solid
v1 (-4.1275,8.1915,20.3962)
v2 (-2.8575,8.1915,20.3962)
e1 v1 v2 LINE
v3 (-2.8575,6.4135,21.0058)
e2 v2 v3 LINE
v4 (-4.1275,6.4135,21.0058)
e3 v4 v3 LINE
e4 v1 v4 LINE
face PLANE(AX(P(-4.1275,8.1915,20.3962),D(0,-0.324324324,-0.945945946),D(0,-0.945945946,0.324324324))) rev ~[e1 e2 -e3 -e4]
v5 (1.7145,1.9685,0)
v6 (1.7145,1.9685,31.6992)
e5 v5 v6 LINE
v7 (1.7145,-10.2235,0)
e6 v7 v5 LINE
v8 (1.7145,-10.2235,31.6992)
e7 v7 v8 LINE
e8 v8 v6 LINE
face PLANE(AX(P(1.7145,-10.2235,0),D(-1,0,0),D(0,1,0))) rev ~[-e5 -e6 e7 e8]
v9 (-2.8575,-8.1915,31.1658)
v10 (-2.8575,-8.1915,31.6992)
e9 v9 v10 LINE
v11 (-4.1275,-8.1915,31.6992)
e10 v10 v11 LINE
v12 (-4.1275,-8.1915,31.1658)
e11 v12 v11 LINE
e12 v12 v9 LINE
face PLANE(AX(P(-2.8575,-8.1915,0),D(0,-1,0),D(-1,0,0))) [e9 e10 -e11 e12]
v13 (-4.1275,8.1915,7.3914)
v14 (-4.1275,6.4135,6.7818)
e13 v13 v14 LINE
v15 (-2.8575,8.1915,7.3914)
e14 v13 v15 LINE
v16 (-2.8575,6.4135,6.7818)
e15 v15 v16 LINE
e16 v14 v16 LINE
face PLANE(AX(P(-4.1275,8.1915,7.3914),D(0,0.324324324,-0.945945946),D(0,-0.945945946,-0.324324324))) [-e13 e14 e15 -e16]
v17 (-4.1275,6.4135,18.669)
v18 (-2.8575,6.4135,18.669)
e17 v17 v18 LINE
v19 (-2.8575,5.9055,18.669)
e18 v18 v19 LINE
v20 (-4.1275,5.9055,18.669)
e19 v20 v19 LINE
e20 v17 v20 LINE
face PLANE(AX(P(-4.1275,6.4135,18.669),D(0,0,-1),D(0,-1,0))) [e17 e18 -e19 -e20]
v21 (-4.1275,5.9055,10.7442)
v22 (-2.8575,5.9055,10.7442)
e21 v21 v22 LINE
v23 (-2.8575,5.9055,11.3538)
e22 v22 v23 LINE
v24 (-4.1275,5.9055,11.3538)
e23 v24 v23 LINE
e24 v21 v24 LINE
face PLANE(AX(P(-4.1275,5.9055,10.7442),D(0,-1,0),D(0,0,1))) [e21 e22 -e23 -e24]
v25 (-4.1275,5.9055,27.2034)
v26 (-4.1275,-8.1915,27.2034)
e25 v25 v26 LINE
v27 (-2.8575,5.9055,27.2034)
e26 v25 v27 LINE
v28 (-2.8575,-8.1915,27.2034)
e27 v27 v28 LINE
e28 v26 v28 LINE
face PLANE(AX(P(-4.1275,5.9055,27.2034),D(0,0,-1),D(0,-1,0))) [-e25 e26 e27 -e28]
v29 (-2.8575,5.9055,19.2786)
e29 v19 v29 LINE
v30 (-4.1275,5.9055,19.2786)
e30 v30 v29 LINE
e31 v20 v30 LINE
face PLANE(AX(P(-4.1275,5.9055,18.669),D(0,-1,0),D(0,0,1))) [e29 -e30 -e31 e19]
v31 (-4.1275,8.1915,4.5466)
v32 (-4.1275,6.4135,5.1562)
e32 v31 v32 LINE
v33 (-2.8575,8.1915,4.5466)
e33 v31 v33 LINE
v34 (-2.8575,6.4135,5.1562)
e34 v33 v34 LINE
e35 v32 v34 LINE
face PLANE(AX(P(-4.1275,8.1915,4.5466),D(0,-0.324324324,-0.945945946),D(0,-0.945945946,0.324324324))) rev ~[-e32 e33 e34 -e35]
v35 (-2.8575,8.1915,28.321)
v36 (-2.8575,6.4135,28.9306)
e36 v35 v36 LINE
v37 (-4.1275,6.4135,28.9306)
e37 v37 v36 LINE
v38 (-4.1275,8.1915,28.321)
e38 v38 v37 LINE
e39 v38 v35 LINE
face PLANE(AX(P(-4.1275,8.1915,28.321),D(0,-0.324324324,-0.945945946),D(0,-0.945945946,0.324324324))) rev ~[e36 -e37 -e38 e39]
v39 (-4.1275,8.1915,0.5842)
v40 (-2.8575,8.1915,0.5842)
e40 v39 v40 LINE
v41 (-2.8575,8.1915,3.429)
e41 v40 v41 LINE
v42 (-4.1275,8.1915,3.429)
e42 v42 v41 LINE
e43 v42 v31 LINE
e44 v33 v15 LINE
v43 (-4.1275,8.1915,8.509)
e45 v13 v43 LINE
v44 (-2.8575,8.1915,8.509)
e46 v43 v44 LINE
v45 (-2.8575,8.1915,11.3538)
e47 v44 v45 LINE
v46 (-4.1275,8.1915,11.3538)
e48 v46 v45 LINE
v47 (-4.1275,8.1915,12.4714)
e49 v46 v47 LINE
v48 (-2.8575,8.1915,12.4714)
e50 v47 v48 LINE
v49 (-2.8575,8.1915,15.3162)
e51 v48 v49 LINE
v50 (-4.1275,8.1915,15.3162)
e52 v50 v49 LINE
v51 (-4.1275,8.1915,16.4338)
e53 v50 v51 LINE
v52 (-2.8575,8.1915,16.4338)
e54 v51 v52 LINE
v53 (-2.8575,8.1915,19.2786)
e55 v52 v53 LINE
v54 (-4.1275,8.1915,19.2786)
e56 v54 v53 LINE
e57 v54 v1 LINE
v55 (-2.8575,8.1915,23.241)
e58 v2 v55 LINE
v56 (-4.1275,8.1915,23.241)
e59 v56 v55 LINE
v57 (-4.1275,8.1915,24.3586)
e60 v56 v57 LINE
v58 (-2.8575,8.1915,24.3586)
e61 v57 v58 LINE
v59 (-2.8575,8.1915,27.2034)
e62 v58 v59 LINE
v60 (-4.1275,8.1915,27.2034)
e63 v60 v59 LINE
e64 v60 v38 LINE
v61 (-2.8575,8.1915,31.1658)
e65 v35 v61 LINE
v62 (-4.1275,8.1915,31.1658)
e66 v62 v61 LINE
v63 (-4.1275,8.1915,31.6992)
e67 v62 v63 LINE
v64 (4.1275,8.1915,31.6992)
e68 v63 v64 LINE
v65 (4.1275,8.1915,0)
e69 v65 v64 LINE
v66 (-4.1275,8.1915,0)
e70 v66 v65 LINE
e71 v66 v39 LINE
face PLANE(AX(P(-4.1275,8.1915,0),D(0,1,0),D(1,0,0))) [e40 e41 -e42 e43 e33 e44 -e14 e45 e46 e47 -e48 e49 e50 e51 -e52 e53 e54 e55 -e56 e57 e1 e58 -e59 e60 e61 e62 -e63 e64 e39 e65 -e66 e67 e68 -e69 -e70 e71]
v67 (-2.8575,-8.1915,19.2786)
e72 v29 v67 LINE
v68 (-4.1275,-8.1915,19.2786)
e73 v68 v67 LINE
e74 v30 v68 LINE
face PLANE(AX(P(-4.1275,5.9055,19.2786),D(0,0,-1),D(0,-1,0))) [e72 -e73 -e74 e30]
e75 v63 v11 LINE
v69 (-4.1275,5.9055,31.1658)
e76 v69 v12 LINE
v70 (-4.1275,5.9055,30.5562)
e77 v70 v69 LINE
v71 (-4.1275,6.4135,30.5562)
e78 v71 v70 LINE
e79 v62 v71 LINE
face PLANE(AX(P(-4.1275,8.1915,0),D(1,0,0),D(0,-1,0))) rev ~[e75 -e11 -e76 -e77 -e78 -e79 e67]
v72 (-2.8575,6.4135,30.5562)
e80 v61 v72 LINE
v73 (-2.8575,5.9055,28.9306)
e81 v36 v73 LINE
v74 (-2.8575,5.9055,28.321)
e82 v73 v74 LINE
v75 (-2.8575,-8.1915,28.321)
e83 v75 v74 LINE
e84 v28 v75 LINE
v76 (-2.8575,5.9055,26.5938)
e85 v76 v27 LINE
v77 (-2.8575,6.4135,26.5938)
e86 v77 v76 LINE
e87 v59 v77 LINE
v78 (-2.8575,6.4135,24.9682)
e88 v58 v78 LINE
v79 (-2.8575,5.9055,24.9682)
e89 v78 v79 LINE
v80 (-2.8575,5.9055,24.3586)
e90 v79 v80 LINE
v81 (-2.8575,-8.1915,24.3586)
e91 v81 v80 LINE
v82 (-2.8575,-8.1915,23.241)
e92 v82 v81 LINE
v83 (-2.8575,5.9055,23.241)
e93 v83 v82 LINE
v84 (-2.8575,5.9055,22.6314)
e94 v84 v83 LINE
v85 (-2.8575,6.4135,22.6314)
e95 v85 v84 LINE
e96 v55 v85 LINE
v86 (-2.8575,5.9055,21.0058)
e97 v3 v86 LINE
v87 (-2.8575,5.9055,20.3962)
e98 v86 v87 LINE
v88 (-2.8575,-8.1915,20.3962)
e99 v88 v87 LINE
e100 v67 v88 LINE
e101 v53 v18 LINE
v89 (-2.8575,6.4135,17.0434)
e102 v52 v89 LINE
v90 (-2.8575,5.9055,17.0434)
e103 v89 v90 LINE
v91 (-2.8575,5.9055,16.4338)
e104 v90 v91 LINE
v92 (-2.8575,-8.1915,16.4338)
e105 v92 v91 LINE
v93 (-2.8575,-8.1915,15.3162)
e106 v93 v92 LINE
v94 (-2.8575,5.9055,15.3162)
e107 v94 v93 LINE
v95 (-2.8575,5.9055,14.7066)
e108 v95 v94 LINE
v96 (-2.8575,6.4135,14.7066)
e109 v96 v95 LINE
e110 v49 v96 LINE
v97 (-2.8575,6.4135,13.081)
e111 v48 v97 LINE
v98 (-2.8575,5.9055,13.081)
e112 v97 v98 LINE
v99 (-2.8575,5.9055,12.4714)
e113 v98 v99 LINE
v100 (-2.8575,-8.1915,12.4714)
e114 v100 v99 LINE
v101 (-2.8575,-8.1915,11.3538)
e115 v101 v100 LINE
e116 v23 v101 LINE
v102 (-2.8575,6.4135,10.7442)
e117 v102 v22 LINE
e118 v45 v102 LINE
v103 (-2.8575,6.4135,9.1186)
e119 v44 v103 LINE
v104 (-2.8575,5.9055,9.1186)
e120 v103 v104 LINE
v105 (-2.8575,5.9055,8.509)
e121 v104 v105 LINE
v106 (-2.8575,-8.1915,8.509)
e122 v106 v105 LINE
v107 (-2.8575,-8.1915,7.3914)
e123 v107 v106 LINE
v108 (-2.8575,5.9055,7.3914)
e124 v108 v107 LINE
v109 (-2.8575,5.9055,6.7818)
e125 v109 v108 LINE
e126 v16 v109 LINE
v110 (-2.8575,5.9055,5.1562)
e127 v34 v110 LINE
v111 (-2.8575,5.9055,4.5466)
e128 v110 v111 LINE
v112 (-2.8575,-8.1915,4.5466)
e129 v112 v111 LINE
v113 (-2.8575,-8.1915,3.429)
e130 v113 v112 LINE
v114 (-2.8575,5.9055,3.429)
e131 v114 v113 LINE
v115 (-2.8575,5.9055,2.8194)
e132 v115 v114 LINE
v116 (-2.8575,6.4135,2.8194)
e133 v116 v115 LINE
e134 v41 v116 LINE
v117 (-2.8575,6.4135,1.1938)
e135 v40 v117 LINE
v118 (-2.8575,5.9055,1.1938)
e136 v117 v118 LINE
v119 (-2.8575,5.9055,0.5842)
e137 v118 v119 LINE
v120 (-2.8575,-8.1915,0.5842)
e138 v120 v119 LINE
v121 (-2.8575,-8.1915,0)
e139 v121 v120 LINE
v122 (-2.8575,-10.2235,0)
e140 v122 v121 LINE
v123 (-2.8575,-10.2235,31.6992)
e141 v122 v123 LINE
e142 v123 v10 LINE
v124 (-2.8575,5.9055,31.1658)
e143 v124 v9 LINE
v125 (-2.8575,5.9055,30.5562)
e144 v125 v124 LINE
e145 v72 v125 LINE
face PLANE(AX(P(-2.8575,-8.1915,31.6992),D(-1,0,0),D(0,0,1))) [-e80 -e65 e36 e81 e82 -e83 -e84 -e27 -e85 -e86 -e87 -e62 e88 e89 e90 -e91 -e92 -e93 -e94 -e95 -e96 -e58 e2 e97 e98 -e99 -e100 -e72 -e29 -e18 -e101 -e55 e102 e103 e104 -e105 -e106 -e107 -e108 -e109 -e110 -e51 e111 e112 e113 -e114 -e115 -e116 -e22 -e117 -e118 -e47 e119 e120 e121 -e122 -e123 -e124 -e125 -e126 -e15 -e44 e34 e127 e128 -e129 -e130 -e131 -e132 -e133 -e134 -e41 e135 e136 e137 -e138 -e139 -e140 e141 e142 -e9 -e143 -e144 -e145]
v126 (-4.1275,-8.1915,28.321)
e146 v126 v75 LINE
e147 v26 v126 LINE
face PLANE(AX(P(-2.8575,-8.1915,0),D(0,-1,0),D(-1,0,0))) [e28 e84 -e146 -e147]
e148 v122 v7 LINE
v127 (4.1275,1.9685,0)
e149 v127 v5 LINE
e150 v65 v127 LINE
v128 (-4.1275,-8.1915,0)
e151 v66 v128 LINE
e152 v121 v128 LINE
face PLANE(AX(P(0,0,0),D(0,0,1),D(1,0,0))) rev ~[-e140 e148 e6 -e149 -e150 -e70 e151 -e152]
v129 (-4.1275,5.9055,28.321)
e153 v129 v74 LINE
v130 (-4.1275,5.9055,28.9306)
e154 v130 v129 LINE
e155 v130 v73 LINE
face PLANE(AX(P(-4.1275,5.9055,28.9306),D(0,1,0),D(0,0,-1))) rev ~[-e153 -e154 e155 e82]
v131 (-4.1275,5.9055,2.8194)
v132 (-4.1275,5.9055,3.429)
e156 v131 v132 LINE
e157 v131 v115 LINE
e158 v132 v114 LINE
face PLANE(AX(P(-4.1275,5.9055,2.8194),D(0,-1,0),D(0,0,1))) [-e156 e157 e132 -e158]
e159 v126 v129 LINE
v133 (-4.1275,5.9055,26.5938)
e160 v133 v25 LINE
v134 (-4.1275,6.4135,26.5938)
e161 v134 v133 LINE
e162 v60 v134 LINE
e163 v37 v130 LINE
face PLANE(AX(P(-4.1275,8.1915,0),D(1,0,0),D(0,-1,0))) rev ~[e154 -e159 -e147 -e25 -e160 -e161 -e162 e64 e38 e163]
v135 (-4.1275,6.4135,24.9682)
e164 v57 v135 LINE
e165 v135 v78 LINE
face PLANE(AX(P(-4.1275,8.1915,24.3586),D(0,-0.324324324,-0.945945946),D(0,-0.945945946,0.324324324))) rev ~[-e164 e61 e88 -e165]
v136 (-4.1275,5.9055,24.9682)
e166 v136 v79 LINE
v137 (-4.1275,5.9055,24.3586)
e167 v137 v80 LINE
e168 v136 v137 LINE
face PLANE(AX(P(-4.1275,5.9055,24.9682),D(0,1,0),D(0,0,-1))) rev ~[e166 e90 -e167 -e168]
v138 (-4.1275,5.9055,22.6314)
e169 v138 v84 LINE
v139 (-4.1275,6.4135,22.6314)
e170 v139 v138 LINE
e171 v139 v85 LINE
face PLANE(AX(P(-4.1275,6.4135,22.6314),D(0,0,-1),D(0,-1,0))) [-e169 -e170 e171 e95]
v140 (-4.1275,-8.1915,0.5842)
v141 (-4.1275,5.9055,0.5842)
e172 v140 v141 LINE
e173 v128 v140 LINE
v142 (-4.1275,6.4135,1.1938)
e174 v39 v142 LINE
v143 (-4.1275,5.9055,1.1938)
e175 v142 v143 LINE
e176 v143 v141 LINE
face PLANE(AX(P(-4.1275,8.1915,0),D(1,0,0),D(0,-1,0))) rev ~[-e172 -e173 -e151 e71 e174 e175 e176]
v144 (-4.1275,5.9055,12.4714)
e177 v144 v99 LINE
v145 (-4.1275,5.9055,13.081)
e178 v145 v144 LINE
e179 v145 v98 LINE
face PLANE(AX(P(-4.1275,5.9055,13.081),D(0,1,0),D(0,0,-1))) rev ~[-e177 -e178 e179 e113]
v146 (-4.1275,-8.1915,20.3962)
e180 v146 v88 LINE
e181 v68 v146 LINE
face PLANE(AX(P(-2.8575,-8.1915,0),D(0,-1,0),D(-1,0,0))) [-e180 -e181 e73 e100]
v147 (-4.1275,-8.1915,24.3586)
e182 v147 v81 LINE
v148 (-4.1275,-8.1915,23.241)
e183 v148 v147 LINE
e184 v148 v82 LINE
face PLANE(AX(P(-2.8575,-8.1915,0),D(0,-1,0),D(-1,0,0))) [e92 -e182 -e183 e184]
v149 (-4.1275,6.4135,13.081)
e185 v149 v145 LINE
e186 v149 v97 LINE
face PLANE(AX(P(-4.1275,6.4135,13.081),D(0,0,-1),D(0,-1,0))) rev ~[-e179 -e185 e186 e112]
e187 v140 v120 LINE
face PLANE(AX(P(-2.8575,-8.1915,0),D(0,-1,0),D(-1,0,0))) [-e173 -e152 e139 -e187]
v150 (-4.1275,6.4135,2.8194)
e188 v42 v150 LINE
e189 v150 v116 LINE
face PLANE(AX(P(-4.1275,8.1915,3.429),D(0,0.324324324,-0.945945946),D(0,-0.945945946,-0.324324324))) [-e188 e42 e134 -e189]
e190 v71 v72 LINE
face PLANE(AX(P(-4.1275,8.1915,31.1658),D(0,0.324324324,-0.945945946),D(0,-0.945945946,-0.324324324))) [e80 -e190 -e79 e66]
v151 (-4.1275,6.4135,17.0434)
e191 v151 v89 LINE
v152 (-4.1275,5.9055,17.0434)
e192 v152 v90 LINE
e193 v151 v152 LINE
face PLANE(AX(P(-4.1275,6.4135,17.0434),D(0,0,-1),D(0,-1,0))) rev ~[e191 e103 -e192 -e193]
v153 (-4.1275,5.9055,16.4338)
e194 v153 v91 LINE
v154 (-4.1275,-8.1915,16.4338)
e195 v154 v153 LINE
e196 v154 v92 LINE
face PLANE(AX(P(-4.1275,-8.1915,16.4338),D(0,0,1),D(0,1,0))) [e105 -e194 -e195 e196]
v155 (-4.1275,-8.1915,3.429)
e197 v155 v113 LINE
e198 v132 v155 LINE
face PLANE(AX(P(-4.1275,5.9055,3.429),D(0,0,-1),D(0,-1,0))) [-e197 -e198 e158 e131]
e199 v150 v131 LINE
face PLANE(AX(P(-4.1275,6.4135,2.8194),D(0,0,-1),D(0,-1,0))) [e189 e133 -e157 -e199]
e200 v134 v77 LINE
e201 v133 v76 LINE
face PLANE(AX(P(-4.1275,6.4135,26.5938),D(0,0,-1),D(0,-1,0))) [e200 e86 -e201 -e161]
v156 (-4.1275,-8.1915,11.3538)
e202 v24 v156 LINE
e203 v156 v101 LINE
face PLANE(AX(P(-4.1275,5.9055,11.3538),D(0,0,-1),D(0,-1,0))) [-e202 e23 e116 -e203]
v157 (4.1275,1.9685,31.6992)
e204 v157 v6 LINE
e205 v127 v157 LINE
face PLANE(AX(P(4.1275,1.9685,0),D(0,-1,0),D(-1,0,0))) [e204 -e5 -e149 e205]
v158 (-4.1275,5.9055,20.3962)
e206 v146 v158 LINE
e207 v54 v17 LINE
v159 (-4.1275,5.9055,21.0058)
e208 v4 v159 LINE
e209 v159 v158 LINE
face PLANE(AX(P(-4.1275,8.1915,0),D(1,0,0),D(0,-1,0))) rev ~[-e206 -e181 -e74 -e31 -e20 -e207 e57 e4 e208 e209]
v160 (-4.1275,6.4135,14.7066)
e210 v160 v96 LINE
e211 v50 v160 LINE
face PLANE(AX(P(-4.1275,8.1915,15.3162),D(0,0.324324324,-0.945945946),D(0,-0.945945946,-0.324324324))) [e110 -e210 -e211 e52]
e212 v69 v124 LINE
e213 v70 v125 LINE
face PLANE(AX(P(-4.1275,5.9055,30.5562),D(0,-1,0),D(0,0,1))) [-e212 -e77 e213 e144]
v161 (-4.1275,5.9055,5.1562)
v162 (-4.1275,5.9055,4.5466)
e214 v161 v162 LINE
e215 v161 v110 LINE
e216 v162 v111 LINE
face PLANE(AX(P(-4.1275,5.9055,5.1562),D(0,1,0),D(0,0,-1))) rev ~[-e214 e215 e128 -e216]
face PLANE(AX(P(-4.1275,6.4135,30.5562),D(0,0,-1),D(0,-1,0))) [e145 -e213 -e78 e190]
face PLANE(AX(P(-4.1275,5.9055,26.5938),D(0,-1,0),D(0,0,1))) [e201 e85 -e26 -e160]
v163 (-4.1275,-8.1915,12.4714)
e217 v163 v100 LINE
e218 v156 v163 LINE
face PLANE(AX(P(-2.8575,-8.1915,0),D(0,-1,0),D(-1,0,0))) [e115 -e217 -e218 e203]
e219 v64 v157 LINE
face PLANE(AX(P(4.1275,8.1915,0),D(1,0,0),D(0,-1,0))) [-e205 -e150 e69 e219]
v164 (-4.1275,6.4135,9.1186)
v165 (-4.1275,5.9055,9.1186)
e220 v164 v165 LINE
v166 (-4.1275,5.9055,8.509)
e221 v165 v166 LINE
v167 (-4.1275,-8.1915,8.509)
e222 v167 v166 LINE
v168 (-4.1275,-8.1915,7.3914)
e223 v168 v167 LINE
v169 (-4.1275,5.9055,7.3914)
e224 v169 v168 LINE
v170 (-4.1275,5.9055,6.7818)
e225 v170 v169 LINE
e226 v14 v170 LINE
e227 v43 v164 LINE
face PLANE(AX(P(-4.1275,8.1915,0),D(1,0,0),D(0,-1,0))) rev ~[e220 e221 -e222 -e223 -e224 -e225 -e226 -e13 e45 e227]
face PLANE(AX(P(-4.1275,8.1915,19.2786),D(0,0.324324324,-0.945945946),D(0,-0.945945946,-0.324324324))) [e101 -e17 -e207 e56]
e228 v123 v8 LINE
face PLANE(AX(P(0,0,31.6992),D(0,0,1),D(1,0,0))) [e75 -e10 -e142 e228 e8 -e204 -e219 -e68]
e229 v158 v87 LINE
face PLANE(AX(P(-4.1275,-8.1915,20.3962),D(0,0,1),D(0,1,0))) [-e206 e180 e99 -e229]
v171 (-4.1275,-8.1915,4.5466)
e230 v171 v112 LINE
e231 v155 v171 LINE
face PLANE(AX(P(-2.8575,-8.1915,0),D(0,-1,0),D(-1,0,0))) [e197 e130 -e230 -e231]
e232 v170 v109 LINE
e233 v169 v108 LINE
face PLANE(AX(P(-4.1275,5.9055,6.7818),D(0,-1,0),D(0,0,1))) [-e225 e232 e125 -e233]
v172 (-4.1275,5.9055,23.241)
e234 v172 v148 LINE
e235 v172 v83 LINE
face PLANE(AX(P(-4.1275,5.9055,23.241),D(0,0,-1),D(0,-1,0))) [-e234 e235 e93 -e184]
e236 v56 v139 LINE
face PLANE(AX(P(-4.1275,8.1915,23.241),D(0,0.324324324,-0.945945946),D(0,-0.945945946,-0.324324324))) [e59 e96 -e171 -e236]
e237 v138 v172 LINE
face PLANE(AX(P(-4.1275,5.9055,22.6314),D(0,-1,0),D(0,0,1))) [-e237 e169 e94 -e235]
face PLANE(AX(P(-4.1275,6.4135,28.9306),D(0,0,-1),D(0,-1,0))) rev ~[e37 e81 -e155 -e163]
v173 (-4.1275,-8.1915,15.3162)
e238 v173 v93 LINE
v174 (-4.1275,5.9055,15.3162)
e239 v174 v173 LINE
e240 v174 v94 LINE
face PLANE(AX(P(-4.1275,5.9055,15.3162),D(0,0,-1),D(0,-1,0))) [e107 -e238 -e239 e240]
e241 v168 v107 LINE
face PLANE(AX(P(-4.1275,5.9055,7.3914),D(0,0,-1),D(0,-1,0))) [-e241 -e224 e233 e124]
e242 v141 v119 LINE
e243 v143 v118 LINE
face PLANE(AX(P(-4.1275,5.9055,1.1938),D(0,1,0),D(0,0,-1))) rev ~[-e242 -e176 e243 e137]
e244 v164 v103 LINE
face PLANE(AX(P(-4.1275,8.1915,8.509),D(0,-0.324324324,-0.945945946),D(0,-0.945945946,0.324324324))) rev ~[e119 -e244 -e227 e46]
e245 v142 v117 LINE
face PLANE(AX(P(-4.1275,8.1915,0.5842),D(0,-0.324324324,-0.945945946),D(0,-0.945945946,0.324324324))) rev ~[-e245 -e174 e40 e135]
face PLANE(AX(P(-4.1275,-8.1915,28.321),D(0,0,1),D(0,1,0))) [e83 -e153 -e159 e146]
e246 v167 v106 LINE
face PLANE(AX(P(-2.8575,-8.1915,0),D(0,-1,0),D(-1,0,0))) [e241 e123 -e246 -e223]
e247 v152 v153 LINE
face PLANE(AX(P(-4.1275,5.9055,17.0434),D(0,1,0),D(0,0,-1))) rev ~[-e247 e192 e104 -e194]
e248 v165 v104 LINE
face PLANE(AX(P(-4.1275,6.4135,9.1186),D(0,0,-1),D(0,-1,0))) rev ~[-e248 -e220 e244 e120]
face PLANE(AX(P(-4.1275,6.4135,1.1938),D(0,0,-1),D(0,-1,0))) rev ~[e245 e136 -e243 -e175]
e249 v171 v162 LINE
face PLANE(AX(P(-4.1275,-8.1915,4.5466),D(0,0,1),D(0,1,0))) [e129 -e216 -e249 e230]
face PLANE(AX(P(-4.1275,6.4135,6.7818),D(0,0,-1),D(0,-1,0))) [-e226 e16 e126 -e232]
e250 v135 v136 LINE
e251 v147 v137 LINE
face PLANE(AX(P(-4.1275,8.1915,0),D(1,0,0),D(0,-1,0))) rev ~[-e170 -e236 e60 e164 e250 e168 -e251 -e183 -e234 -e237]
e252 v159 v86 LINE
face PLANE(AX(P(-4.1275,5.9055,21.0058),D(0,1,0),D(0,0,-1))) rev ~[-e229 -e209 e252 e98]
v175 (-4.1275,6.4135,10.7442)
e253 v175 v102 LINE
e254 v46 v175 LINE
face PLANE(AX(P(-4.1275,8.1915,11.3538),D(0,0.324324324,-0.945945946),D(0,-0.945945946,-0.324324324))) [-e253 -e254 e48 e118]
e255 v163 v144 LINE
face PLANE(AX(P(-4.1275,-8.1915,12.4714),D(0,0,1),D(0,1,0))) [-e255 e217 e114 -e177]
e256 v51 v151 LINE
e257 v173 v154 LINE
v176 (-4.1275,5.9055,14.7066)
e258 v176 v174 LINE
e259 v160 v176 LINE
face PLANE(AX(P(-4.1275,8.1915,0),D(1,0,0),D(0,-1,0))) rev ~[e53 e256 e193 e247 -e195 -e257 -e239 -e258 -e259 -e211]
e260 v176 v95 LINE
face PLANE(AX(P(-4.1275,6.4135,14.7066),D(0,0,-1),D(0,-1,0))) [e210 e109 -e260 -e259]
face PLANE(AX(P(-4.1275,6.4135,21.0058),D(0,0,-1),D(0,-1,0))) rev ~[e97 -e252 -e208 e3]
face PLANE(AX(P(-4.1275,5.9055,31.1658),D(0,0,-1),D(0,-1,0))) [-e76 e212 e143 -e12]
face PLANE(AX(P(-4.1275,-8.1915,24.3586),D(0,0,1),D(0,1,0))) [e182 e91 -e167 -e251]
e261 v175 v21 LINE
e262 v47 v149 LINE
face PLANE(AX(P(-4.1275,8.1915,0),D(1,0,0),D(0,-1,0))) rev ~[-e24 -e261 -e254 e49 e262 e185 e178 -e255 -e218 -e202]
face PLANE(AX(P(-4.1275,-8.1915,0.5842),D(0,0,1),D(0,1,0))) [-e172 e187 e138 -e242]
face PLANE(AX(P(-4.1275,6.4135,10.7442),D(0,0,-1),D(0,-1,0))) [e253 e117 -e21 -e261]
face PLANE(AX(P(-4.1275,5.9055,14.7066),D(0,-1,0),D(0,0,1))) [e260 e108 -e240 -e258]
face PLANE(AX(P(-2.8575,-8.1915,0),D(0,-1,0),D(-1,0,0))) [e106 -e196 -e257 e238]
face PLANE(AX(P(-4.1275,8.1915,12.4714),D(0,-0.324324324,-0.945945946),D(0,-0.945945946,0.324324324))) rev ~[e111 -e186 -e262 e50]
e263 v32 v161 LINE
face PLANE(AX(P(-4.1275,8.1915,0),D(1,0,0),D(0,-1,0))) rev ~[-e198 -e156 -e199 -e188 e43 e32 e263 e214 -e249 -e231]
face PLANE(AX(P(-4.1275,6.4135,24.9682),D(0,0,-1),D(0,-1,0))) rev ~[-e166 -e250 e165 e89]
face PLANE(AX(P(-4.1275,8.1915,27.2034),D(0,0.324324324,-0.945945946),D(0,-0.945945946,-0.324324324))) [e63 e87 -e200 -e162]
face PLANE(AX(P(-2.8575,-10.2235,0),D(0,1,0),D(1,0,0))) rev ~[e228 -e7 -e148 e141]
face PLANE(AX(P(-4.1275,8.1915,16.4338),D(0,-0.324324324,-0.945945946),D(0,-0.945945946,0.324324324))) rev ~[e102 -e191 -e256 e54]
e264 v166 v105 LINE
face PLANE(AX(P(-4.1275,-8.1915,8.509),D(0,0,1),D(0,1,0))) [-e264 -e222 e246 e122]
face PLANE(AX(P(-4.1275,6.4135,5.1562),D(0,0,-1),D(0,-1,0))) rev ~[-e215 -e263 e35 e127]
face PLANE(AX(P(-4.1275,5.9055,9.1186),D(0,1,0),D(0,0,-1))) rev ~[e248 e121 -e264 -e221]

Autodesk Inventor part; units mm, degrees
ref_plane "YZ Plane" through (0, 0, 0) normal (1, 0, 0) x (0, 1, 0)
ref_plane "XZ Plane" through (0, 0, 0) normal (0, 1, 0) x (-1, 0, 0)
ref_plane "XY Plane" through (0, 0, 0) normal (0, 0, 1) x (1, 0, 0)
sketch "Sketch1" plane through (0, 0, 0) normal (0, 0, 1) x (1, 0, 0)
  line L0 (-4.1275, 8.1915) -> (4.1275, 8.1915)
  line L1 (-4.1275, 8.1915) -> (-4.1275, -8.1915)
  line L2 (-2.8575, -10.2235) -> (1.7145, -10.2235)
  line L3 (-2.8575, -10.2235) -> (-2.8575, -8.1915)
  line L4 (-2.8575, -8.1915) -> (-4.1275, -8.1915)
  line L5 (4.1275, 8.1915) -> (4.1275, 1.9685)
  line L6 (1.7145, -10.2235) -> (1.7145, 1.9685)
  line L7 (4.1275, 1.9685) -> (1.7145, 1.9685)
  point P0 (0, 0)
  point P1 (0, 8.1915)
  point P2 (-4.1275, 0)
  dimension "d0" = 8.255
  dimension "d2" = 1.27
  dimension "d3" = 2.032
  dimension "d4" = 18.415
  dimension "d5" = 4.572
  dimension "d6" = 6.223
extrude "Extrusion1" add sketch "Sketch1" along normal blind 31.6992
sketch "Sketch2" plane through (-4.1275, -8.1915, 31.6992) normal (-1, 0, 0) x (0, 0, 1)
  line L0 (-31.6992, 16.383) -> (0, 16.383) projected
  line L1 (-31.6992, 0) -> (-31.6992, 16.383) projected
  line L2 (-31.6992, 0) -> (0, 0) projected
  line L3 (-31.115, 16.383) -> (-28.2702, 16.383)
  line L4 (-28.2702, 14.097) -> (-28.2702, 0)
  line L5 (-28.2702, 0) -> (-31.115, 0)
  line L6 (-31.115, 0) -> (-31.115, 14.097)
  line L7 (-30.5054, 14.605) -> (-30.5054, 14.097)
  line L8 (-31.115, 16.383) -> (-30.5054, 14.605)
  line L9 (-30.5054, 14.097) -> (-31.115, 14.097)
  line L10 (-28.8798, 14.605) -> (-28.8798, 14.097)
  line L11 (-28.2702, 16.383) -> (-28.8798, 14.605)
  line L12 (-28.8798, 14.097) -> (-28.2702, 14.097)
  line L13 (-27.1526, 16.383) -> (-24.3078, 16.383)
  line L14 (-24.3078, 14.097) -> (-24.3078, 0)
  line L15 (-24.3078, 0) -> (-27.1526, 0)
  line L16 (-27.1526, 0) -> (-27.1526, 14.097)
  line L17 (-26.543, 14.605) -> (-26.543, 14.097)
  line L18 (-27.1526, 16.383) -> (-26.543, 14.605)
  line L19 (-26.543, 14.097) -> (-27.1526, 14.097)
  line L20 (-24.3078, 16.383) -> (-24.9174, 14.605)
  line L21 (-24.9174, 14.605) -> (-24.9174, 14.097)
  line L22 (-24.9174, 14.097) -> (-24.3078, 14.097)
  line L23 (-23.1902, 16.383) -> (-20.3454, 16.383)
  line L24 (-20.3454, 14.097) -> (-20.3454, 0)
  line L25 (-20.3454, 0) -> (-23.1902, 0)
  line L26 (-23.1902, 0) -> (-23.1902, 14.097)
  line L27 (-22.5806, 14.605) -> (-22.5806, 14.097)
  line L28 (-23.1902, 16.383) -> (-22.5806, 14.605)
  line L29 (-22.5806, 14.097) -> (-23.1902, 14.097)
  line L30 (-20.3454, 16.383) -> (-20.955, 14.605)
  line L31 (-20.955, 14.605) -> (-20.955, 14.097)
  line L32 (-20.955, 14.097) -> (-20.3454, 14.097)
  line L33 (-19.2278, 16.383) -> (-16.383, 16.383)
  line L34 (-16.383, 14.097) -> (-16.383, 0)
  line L35 (-16.383, 0) -> (-19.2278, 0)
  line L36 (-19.2278, 0) -> (-19.2278, 14.097)
  line L37 (-18.6182, 14.605) -> (-18.6182, 14.097)
  line L38 (-19.2278, 16.383) -> (-18.6182, 14.605)
  line L39 (-18.6182, 14.097) -> (-19.2278, 14.097)
  line L40 (-16.383, 16.383) -> (-16.9926, 14.605)
  line L41 (-16.9926, 14.605) -> (-16.9926, 14.097)
  line L42 (-16.9926, 14.097) -> (-16.383, 14.097)
  line L43 (-15.2654, 16.383) -> (-12.4206, 16.383)
  line L44 (-12.4206, 14.097) -> (-12.4206, 0)
  line L45 (-12.4206, 0) -> (-15.2654, 0)
  line L46 (-15.2654, 0) -> (-15.2654, 14.097)
  line L47 (-14.6558, 14.605) -> (-14.6558, 14.097)
  line L48 (-15.2654, 16.383) -> (-14.6558, 14.605)
  line L49 (-14.6558, 14.097) -> (-15.2654, 14.097)
  line L50 (-12.4206, 16.383) -> (-13.0302, 14.605)
  line L51 (-13.0302, 14.605) -> (-13.0302, 14.097)
  line L52 (-13.0302, 14.097) -> (-12.4206, 14.097)
  line L53 (-11.303, 16.383) -> (-8.4582, 16.383)
  line L54 (-8.4582, 14.097) -> (-8.4582, 0)
  line L55 (-8.4582, 0) -> (-11.303, 0)
  line L56 (-11.303, 0) -> (-11.303, 14.097)
  line L57 (-10.6934, 14.605) -> (-10.6934, 14.097)
  line L58 (-11.303, 16.383) -> (-10.6934, 14.605)
  line L59 (-10.6934, 14.097) -> (-11.303, 14.097)
  line L60 (-8.4582, 16.383) -> (-9.0678, 14.605)
  line L61 (-9.0678, 14.605) -> (-9.0678, 14.097)
  line L62 (-9.0678, 14.097) -> (-8.4582, 14.097)
  line L63 (-7.3406, 16.383) -> (-4.4958, 16.383)
  line L64 (-4.4958, 14.097) -> (-4.4958, 0)
  line L65 (-4.4958, 0) -> (-7.3406, 0)
  line L66 (-7.3406, 0) -> (-7.3406, 14.097)
  line L67 (-6.731, 14.605) -> (-6.731, 14.097)
  line L68 (-7.3406, 16.383) -> (-6.731, 14.605)
  line L69 (-6.731, 14.097) -> (-7.3406, 14.097)
  line L70 (-4.4958, 16.383) -> (-5.1054, 14.605)
  line L71 (-5.1054, 14.605) -> (-5.1054, 14.097)
  line L72 (-5.1054, 14.097) -> (-4.4958, 14.097)
  line L73 (-3.3782, 16.383) -> (-0.5334, 16.383)
  line L74 (-0.5334, 14.097) -> (-0.5334, 0)
  line L75 (-0.5334, 0) -> (-3.3782, 0)
  line L76 (-3.3782, 0) -> (-3.3782, 14.097)
  line L77 (-2.7686, 14.605) -> (-2.7686, 14.097)
  line L78 (-3.3782, 16.383) -> (-2.7686, 14.605)
  line L79 (-2.7686, 14.097) -> (-3.3782, 14.097)
  line L80 (-0.5334, 16.383) -> (-1.143, 14.605)
  line L81 (-1.143, 14.605) -> (-1.143, 14.097)
  line L82 (-1.143, 14.097) -> (-0.5334, 14.097)
  dimension "d9" = 0.5842
  dimension "d10" = 2.8448
  dimension "d11" = 0.6096
  dimension "d12" = 0.508
  dimension "d13" = 2.286
  dimension "d14" = 2.286
  dimension "d15" = 0.508
  dimension "d18" = 3.9624
extrude "Extrusion2" cut sketch "Sketch2" against normal blind 1.27 contours L0 L11 L10 L12 L4 L2 L6 L9 L7 L8 | L0 L20 L21 L22 L14 L2 L16 L19 L17 L18 | L0 L30 L31 L32 L24 L2 L26 L29 L27 L28 | L0 L40 L41 L42 L34 L2 L36 L39 L37 L38 | L0 L50 L51 L52 L44 L2 L46 L49 L47 L48 | L0 L60 L61 L62 L54 L2 L56 L59 L57 L58 | L0 L70 L71 L72 L64 L2 L66 L69 L67 L68 | L0 L80 L81 L82 L74 L2 L76 L79 L77 L78
properties part number "Connector, IDC, 8 Pin, SR"
